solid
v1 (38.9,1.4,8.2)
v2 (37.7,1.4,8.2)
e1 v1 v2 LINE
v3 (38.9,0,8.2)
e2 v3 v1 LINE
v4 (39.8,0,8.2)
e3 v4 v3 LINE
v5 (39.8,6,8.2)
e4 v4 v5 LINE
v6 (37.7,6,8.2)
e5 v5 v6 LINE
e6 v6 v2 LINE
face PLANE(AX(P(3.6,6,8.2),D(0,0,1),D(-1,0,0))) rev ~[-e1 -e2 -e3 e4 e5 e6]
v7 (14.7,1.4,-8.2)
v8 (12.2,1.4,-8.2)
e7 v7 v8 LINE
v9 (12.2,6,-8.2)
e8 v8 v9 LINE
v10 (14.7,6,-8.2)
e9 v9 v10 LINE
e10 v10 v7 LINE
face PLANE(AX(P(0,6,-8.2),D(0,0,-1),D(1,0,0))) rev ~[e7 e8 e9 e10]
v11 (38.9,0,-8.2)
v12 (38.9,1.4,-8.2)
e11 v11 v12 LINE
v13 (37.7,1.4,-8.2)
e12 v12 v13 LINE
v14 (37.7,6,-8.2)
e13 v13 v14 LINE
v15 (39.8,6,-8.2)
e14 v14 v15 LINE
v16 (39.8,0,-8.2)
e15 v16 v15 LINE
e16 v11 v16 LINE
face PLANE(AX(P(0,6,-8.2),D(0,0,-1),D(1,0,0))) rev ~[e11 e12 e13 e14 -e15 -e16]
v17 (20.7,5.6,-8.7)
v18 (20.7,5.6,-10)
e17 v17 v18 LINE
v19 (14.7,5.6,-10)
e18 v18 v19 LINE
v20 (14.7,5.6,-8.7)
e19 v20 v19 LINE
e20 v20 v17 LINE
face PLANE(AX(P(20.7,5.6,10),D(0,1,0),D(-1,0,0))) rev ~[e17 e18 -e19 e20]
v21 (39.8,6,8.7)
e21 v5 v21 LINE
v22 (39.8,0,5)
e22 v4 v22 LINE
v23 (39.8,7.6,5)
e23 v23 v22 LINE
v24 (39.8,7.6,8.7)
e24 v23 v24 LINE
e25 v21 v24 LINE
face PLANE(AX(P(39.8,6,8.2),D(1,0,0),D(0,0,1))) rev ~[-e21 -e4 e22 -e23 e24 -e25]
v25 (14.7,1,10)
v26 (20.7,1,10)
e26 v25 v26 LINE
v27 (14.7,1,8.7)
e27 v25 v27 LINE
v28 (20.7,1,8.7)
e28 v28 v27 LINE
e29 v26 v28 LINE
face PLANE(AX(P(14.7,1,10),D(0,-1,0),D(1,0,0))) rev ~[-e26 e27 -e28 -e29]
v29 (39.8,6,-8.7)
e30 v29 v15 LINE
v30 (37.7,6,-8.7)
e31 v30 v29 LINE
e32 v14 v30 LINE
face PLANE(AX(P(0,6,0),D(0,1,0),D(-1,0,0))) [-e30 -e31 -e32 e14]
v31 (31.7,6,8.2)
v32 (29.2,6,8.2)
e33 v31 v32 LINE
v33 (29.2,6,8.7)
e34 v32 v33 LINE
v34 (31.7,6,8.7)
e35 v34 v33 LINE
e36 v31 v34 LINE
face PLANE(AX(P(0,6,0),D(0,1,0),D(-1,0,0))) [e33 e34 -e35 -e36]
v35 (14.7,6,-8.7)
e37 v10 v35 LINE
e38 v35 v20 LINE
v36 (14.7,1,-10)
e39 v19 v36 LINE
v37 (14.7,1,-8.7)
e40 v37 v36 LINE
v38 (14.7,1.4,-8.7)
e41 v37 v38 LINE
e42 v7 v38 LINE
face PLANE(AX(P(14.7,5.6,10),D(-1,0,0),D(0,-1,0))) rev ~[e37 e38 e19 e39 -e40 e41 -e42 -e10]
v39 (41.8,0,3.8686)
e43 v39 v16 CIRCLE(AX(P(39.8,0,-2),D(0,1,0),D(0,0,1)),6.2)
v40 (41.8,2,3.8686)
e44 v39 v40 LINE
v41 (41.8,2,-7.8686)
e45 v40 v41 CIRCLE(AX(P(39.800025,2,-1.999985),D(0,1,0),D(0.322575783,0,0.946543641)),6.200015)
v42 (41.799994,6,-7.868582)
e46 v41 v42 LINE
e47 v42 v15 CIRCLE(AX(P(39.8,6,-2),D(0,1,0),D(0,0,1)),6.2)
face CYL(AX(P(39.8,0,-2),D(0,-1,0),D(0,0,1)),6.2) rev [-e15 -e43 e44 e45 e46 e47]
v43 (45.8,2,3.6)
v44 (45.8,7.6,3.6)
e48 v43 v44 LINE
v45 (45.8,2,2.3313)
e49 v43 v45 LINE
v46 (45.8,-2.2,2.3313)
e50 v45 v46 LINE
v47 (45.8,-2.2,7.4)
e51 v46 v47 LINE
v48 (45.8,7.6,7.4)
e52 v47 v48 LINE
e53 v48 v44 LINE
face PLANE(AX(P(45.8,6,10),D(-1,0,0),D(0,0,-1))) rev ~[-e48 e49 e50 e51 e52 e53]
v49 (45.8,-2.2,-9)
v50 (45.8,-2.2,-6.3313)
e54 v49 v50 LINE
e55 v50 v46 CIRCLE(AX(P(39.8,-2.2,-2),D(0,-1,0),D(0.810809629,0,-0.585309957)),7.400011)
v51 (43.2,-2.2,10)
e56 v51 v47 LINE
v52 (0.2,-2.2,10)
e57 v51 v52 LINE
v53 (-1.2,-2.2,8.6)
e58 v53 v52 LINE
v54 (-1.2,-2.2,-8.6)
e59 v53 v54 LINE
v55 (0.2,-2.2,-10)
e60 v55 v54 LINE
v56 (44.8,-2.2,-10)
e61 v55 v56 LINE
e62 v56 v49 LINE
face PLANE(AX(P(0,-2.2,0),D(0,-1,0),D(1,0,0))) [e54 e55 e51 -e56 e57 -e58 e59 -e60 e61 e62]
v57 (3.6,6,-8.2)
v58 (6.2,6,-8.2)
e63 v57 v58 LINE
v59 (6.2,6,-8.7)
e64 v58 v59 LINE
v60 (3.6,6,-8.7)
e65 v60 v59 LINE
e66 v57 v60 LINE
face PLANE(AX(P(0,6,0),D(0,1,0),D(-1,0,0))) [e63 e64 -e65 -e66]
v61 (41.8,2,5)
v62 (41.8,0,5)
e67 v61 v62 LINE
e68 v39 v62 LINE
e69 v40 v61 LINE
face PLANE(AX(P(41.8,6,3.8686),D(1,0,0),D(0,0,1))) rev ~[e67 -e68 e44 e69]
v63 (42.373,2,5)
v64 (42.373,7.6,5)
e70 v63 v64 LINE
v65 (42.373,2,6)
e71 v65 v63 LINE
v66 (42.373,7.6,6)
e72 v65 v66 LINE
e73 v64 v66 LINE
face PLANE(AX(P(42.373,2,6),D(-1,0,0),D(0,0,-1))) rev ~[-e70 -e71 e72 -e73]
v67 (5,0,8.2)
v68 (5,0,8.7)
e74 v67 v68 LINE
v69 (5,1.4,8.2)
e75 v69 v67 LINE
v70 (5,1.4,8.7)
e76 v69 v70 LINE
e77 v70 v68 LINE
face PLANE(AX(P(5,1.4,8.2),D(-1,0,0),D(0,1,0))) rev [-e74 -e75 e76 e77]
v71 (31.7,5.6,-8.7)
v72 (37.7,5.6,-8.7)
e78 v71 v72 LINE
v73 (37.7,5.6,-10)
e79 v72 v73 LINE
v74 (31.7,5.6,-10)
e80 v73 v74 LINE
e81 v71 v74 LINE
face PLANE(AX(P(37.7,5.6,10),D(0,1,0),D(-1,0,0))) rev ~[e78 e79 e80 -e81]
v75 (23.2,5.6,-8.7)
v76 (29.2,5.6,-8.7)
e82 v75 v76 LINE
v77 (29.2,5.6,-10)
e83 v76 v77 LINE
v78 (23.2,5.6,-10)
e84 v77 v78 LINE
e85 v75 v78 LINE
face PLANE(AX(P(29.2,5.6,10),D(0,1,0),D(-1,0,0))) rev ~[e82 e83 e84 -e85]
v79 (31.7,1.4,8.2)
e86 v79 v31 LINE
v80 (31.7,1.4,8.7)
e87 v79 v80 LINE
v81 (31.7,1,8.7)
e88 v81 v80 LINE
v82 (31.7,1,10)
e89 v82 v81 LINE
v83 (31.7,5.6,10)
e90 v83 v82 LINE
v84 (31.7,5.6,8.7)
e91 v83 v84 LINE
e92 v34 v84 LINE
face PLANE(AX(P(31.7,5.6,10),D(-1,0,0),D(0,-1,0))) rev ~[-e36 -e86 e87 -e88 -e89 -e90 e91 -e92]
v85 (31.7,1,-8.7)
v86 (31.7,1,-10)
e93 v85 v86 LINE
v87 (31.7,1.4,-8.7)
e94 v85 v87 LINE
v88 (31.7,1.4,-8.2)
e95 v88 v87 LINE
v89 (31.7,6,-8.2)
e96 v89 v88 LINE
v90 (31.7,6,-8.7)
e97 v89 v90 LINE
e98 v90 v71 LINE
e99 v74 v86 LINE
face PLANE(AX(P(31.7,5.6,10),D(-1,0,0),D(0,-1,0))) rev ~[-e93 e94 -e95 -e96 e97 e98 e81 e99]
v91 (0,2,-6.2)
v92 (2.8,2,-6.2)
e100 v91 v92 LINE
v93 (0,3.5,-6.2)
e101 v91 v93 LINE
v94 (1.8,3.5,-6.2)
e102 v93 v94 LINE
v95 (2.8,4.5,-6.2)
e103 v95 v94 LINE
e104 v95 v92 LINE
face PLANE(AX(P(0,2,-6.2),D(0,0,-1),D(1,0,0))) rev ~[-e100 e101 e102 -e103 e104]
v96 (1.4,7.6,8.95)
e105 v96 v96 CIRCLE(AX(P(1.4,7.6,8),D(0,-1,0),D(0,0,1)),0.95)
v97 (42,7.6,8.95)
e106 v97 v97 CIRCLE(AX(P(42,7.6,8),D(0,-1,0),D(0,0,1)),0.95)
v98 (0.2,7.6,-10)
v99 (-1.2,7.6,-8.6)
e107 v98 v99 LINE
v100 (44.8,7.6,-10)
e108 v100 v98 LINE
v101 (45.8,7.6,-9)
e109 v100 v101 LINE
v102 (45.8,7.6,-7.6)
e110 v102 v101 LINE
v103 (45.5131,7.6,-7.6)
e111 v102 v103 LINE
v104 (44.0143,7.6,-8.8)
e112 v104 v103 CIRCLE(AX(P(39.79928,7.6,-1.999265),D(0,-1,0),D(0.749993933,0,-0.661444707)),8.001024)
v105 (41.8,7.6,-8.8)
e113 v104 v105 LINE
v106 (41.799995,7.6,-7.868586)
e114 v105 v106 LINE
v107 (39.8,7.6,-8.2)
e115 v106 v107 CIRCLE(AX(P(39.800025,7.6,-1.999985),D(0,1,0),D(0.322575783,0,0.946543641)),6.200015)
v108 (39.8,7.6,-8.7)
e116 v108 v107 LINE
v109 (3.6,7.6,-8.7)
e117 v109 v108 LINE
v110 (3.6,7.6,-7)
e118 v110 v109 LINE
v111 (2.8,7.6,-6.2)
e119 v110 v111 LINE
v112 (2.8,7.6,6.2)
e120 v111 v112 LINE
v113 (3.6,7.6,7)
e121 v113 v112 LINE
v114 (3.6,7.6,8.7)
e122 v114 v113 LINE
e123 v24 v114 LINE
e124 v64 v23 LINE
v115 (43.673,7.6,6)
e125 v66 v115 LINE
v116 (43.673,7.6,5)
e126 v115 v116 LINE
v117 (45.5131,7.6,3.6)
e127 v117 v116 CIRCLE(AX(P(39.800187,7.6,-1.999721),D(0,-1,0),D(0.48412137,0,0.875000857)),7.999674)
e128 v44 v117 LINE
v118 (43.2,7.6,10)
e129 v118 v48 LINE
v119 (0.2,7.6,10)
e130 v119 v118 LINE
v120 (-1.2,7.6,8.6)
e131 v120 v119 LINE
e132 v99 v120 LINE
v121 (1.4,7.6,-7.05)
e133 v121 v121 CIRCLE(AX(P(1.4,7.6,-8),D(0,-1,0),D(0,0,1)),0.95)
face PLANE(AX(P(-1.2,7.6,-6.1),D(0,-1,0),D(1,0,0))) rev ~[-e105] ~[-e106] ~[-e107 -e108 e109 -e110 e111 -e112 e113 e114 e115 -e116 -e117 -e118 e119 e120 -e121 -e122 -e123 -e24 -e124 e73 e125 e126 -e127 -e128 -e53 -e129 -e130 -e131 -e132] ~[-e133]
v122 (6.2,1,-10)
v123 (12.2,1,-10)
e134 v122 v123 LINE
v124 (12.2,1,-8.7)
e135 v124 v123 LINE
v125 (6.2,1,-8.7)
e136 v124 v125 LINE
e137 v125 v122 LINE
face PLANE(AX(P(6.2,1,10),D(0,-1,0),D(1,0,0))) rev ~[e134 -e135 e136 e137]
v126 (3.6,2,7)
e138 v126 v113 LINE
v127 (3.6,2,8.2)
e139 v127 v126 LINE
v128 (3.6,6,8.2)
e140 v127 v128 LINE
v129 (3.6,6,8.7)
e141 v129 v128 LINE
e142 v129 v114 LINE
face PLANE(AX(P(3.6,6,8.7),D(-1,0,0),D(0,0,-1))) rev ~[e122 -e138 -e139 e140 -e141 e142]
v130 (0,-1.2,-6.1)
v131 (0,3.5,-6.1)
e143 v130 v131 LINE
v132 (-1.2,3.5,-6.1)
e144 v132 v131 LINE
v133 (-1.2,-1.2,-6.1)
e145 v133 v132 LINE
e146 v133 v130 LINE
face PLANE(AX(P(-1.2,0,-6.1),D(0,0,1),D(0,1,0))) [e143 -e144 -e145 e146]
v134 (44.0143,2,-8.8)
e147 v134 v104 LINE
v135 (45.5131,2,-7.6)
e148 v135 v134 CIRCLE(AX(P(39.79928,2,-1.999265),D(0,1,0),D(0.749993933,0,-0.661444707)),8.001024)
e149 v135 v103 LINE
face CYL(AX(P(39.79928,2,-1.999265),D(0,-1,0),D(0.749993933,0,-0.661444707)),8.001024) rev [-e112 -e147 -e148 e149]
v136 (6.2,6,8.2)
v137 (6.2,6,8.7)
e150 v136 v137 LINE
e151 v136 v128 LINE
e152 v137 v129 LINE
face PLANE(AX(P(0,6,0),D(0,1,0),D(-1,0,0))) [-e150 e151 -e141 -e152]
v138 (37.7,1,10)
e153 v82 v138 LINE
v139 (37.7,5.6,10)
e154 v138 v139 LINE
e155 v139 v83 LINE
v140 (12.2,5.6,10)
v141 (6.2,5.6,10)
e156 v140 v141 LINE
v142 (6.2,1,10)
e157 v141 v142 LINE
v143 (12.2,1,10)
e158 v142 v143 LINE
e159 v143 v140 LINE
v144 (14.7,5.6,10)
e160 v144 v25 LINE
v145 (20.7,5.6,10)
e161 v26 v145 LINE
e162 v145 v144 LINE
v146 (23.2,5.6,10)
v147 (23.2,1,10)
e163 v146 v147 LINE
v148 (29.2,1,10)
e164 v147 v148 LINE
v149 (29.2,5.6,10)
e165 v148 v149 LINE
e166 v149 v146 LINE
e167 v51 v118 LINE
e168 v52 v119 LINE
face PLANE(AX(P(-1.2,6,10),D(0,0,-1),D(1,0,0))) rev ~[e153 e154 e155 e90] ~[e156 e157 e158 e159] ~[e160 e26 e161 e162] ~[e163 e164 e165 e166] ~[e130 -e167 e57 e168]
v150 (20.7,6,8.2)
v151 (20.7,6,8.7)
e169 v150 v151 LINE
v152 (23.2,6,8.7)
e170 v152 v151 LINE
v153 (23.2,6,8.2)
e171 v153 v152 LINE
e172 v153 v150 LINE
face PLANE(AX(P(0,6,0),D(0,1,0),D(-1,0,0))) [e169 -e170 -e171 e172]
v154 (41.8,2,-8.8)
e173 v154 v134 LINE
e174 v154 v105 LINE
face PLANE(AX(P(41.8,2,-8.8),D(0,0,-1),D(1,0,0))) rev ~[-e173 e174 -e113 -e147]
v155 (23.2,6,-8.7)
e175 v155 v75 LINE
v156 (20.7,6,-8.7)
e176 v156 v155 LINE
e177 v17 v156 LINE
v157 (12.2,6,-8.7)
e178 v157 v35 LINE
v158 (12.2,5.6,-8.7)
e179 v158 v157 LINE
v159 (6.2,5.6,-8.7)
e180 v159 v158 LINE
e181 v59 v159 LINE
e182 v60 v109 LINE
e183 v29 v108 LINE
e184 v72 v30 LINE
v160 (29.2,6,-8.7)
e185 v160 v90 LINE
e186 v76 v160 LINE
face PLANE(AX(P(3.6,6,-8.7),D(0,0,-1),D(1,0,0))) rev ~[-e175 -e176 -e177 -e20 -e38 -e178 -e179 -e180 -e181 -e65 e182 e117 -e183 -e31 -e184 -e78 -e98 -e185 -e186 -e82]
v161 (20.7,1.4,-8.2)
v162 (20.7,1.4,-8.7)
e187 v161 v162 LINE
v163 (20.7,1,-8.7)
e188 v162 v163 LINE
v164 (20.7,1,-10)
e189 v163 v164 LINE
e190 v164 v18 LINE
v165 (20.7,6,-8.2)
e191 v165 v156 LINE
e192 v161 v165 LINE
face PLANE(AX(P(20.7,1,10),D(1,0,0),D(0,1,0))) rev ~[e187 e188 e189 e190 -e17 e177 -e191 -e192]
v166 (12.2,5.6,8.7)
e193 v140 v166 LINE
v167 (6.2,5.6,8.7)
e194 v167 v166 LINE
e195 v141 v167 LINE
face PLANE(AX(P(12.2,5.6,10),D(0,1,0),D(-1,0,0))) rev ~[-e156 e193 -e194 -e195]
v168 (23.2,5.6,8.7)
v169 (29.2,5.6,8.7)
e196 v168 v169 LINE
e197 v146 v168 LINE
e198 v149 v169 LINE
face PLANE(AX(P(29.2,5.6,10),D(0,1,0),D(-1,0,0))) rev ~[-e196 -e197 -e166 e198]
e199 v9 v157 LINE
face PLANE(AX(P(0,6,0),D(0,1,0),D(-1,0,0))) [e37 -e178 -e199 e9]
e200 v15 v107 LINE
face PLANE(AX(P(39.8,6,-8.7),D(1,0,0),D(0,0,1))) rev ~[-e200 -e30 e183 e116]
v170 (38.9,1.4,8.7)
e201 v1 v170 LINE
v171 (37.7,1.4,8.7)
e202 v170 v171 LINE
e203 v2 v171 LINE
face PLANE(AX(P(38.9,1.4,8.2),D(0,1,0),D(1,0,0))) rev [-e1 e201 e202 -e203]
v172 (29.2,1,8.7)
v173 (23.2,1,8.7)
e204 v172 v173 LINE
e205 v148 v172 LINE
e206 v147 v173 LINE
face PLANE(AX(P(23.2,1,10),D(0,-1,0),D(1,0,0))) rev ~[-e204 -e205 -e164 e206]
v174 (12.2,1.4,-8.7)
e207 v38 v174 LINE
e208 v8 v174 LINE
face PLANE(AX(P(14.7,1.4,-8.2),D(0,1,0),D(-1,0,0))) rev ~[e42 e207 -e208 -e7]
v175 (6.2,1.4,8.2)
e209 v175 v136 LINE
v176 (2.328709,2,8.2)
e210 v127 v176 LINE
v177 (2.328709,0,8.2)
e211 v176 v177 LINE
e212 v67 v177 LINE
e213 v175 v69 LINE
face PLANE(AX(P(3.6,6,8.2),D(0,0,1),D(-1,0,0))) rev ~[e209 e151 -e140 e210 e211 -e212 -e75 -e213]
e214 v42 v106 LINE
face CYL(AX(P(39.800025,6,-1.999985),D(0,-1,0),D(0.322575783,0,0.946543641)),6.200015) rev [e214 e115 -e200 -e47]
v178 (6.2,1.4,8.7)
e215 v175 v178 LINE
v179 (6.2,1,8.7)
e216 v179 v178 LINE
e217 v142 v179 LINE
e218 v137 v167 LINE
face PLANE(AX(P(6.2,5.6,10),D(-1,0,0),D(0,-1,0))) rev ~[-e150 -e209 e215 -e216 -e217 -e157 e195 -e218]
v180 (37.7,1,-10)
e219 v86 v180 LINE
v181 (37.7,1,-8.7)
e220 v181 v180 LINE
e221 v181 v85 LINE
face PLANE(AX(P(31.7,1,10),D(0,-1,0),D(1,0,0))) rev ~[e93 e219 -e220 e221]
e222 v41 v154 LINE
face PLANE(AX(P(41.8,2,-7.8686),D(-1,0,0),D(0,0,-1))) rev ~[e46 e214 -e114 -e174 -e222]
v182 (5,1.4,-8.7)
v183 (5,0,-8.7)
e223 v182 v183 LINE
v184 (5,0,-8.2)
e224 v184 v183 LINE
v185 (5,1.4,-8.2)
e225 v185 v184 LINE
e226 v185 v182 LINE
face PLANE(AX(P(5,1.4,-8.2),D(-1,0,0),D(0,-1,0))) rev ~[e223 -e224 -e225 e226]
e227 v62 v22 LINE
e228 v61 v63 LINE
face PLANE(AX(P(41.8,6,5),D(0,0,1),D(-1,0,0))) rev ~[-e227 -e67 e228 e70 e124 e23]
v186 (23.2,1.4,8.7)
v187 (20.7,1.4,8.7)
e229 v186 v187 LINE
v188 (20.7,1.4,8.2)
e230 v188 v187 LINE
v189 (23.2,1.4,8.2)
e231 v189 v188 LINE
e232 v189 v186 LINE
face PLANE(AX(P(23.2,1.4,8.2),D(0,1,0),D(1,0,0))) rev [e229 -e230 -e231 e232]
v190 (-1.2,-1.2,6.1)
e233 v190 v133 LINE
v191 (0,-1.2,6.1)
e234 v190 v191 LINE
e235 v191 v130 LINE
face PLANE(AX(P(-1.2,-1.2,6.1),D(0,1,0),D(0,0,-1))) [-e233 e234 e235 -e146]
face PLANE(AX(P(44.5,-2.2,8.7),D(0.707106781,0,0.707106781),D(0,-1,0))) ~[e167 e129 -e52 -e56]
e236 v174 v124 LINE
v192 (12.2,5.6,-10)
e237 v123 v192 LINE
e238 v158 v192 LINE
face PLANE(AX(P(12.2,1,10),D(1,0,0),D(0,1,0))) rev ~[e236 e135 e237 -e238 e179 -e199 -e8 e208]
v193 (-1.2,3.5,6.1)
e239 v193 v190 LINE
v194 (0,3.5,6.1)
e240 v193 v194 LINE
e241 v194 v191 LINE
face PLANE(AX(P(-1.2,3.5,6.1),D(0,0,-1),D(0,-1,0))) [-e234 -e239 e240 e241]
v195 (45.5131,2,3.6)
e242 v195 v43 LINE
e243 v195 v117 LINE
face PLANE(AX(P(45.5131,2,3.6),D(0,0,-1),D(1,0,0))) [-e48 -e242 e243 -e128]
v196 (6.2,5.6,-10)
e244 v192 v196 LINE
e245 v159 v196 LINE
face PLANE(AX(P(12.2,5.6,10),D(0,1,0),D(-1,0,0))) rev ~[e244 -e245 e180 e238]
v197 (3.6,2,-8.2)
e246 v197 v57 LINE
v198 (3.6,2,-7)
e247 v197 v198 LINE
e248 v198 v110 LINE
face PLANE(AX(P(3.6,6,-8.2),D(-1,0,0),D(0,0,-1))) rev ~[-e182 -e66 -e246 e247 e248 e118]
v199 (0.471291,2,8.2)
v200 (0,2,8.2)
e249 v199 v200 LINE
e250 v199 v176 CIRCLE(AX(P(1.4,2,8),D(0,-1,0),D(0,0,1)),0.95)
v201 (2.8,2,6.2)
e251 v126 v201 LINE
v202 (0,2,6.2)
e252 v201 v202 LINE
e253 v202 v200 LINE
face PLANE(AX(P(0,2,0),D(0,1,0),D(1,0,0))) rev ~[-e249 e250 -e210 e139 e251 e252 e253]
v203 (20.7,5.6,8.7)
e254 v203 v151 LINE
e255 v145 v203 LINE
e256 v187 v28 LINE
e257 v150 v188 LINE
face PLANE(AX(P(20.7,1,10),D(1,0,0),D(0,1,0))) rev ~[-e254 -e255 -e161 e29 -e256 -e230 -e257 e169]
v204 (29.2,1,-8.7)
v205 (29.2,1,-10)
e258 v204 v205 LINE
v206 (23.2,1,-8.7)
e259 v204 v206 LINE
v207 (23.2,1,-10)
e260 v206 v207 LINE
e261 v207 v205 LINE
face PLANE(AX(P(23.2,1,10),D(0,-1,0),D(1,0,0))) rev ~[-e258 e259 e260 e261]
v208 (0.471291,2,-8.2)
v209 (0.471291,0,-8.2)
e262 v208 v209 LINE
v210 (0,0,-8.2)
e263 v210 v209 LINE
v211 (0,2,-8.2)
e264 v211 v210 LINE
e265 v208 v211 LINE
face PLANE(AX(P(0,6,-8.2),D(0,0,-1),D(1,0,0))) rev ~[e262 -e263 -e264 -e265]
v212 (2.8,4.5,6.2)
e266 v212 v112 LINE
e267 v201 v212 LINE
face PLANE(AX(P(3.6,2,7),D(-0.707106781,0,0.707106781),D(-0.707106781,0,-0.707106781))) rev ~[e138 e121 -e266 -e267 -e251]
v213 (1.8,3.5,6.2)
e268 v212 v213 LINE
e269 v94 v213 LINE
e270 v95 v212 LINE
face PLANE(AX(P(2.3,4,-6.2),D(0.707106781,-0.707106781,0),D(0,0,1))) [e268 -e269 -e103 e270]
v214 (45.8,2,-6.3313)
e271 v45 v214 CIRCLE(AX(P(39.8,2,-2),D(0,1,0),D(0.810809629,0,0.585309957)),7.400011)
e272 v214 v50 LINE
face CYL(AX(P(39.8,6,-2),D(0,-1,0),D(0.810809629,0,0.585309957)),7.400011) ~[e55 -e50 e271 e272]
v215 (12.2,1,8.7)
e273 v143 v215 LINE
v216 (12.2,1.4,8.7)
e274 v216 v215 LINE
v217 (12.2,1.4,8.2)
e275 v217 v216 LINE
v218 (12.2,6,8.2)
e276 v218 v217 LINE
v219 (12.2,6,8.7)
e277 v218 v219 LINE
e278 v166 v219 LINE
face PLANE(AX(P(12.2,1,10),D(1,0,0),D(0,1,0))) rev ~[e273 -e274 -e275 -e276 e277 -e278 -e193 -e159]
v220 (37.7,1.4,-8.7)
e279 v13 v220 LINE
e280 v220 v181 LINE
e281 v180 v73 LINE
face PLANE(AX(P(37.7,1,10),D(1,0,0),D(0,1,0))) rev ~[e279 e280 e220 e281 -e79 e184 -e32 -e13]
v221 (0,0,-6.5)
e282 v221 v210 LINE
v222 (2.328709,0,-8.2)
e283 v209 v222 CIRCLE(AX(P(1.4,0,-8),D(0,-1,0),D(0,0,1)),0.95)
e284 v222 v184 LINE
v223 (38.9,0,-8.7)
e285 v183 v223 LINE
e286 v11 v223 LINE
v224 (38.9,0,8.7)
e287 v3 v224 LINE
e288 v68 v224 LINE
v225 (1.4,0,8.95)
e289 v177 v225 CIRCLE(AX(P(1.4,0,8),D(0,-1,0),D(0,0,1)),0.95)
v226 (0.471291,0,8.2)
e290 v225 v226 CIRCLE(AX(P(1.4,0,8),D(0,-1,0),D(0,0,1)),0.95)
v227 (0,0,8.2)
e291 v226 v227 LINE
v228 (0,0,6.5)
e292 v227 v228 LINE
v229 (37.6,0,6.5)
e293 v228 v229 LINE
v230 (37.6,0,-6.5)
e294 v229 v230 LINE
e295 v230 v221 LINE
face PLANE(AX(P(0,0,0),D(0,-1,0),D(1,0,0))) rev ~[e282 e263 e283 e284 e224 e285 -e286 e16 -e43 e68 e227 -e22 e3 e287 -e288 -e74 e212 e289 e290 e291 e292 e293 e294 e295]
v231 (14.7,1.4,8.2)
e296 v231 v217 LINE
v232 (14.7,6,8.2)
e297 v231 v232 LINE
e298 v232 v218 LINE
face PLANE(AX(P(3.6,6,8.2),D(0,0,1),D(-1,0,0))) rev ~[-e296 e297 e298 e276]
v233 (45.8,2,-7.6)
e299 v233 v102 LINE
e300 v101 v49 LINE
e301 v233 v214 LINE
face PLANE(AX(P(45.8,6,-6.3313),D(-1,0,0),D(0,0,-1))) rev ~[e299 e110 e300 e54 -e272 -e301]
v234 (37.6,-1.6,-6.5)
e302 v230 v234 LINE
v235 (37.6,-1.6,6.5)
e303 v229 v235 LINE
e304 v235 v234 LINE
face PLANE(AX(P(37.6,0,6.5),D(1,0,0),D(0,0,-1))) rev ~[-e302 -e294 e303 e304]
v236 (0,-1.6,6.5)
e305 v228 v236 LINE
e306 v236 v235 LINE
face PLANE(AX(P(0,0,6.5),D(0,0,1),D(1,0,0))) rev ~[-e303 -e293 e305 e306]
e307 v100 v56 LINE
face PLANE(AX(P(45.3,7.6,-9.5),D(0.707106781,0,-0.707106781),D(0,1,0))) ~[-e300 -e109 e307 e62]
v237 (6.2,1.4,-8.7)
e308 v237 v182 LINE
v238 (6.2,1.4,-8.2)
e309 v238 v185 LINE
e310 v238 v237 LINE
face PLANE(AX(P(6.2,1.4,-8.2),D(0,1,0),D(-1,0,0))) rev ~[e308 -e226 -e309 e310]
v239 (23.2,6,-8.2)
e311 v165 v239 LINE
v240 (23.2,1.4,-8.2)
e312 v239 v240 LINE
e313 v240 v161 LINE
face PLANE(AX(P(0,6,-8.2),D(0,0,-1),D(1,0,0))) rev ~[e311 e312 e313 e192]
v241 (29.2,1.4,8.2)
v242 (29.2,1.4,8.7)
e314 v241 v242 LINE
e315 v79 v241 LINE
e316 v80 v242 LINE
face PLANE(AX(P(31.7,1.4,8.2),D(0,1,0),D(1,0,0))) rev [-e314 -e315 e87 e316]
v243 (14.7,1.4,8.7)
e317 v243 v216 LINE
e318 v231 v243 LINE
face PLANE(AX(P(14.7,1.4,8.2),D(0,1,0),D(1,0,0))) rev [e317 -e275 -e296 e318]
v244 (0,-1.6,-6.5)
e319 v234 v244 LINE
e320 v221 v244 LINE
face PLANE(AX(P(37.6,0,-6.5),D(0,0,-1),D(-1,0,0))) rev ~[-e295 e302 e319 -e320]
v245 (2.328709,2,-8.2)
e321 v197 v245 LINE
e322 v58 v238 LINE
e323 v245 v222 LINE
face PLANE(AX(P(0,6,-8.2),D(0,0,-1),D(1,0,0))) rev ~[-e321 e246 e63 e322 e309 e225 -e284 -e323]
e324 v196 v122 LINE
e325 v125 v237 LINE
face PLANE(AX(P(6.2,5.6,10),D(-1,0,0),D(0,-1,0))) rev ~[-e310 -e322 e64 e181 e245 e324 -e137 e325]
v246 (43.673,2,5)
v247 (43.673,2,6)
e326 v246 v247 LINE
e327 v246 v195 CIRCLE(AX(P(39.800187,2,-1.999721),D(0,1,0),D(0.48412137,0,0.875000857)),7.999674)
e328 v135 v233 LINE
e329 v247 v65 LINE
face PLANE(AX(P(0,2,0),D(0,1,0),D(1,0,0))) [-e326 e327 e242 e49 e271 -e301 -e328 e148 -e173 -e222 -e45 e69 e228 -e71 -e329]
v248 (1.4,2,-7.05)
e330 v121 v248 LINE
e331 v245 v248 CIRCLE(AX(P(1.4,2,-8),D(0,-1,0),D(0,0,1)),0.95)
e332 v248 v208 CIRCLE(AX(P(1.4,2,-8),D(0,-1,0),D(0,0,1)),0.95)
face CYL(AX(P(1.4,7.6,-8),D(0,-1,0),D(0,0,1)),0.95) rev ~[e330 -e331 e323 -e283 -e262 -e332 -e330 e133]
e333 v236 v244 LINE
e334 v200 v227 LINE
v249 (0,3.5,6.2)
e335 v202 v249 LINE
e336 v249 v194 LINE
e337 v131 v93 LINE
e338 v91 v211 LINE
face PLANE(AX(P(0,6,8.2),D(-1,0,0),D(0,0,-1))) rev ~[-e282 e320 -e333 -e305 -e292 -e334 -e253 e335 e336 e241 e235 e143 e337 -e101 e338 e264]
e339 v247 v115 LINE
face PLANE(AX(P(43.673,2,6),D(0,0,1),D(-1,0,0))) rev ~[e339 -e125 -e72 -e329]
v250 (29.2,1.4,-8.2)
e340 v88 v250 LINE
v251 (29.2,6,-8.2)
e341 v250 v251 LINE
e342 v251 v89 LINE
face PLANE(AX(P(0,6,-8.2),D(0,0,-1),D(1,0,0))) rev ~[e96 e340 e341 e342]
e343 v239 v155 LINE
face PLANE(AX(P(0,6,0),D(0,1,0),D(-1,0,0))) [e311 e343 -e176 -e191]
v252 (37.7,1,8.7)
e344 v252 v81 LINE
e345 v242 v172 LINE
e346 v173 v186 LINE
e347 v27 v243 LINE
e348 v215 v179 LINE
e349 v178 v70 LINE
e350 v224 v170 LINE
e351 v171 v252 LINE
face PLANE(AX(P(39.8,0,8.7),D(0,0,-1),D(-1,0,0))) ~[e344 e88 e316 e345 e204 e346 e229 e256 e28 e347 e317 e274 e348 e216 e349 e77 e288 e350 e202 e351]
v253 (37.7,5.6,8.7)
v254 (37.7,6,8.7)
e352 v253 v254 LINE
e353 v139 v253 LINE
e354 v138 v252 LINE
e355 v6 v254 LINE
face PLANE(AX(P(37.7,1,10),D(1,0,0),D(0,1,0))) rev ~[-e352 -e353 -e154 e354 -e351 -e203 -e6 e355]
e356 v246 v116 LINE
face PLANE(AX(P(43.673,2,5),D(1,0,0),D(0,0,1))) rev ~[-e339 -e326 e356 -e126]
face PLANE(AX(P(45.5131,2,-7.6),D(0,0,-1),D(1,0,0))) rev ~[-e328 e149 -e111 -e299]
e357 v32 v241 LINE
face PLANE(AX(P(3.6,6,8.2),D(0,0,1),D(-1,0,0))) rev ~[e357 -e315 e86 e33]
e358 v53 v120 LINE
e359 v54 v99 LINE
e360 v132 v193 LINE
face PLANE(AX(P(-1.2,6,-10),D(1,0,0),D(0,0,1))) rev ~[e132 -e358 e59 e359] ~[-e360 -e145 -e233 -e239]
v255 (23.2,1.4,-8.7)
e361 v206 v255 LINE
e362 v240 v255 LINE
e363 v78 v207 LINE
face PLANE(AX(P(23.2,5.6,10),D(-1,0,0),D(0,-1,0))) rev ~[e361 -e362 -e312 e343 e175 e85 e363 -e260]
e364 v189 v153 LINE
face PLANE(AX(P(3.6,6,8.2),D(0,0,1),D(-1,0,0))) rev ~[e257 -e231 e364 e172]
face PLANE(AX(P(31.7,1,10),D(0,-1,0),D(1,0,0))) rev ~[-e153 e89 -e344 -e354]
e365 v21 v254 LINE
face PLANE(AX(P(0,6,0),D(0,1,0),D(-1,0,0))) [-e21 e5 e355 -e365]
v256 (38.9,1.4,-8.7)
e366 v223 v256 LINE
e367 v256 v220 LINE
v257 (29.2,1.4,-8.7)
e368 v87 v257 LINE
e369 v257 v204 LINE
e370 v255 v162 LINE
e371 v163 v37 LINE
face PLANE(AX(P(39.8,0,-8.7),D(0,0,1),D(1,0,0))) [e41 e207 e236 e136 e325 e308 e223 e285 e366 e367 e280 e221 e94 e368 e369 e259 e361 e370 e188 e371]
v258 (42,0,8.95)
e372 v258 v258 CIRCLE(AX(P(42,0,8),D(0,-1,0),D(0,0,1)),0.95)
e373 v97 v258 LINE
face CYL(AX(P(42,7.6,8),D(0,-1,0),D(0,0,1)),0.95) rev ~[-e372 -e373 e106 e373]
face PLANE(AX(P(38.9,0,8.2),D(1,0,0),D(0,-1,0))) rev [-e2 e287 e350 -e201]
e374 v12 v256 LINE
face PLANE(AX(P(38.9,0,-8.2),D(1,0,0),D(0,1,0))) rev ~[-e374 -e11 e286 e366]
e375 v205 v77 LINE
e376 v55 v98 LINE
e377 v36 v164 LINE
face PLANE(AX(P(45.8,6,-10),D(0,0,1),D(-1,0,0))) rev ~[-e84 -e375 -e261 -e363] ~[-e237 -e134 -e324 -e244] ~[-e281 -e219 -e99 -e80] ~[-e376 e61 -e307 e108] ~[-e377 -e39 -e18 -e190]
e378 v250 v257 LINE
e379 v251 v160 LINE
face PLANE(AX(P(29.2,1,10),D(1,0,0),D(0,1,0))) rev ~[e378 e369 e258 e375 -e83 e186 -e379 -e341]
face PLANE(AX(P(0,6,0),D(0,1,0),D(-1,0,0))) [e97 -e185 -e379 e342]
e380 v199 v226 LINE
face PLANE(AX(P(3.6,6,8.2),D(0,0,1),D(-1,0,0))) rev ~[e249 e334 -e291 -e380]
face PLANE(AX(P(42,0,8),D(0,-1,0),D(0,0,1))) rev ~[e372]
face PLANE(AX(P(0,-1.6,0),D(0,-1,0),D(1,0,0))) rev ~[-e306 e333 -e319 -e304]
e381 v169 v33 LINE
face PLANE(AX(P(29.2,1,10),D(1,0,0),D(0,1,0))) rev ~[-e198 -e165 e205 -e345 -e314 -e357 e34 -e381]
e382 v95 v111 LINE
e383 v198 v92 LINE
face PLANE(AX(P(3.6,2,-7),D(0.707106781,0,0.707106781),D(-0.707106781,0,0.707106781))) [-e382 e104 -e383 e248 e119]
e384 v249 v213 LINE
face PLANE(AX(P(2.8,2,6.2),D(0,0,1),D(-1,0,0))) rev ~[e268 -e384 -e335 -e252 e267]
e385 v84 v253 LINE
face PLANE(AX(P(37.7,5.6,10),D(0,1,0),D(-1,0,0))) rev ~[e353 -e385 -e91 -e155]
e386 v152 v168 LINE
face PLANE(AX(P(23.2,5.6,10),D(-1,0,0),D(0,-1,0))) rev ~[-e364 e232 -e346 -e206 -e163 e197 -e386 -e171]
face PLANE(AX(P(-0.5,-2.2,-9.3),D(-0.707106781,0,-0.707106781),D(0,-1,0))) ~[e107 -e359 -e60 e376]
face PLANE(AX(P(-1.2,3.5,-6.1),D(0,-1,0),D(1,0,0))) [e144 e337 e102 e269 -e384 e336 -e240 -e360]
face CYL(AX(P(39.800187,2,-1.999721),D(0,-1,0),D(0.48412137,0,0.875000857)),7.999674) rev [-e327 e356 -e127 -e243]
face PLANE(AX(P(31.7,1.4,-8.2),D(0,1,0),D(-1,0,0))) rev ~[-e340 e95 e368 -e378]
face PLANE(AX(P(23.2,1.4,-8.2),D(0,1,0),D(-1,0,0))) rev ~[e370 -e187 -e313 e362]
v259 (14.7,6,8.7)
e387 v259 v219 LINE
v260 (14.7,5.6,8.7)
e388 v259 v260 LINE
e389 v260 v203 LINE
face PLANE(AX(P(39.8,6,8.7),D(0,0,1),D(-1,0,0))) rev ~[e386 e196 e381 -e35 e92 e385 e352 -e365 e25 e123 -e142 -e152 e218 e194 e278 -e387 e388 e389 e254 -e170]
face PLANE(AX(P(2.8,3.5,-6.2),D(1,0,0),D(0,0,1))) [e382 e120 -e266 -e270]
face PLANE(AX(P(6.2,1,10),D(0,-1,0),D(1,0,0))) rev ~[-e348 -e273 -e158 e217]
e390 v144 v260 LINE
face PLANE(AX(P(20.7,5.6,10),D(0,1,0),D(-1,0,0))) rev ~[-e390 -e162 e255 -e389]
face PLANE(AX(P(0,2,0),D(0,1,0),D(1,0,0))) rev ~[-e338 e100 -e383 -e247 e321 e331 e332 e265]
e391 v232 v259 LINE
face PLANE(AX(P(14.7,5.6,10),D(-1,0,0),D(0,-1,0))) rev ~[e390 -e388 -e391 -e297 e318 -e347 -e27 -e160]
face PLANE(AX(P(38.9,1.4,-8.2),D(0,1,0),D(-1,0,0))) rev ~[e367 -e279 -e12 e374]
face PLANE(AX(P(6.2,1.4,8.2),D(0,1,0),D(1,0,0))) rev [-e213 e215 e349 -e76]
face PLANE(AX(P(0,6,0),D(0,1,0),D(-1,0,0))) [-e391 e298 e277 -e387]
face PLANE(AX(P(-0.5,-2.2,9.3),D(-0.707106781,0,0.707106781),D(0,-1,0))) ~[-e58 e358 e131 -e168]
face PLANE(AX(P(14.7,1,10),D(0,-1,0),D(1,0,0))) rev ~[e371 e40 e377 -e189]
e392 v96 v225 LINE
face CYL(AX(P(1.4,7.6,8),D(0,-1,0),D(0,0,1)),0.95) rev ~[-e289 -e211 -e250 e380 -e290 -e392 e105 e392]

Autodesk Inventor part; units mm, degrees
sketch "Эскиз1" plane through (0, 0, 0) normal (0, 1, 0) x (-1, 0, 0)
  line L0 (-39.8, 8.2) -> (0, 8.2)
  line L1 (0, 8.2) -> (0, -8.2)
  line L2 (0, -8.2) -> (-39.8, -8.2)
  line L3 (-39.8, -8.2) -> (-39.8, 8.2) construction
  arc A0 (-39.8, 4.2) -> (-39.8, -8.2) centre (-39.8, -2) ccw
  line L4 (-39.8, 8.2) -> (-39.8, 4.2)
  arc A1 (-45.8, 2.3313) -> (-45.8, -6.3313) centre (-39.8, -2) ccw
  line L5 (-45.8, -10) -> (1.2, -10)
  line L6 (1.2, -10) -> (1.2, 10)
  line L7 (1.2, 10) -> (-45.8, 10)
  line L8 (-45.8, 10) -> (-45.8, 2.3313)
  line L9 (-45.8, -6.3313) -> (-45.8, -10)
  line L10 (-41.8, 3.8686) -> (-41.8, 5)
  line L11 (-41.8, 5) -> (-39.8, 5)
  point P0 (0, 0)
  point P1 (0, 0)
  point P2 (1.2, 0)
  dimension "d1" = 16.4
  dimension "d2" = 39.8
  dimension "d3" = 6.2
  dimension "d7" = 20
  dimension "d9" = 6
  dimension "d12" = 1.2
  dimension "d20" = 1.2
  dimension "d21" = 5
  dimension "d22" = 2
extrude "Выдавливание1" add sketch "Эскиз1" along normal blind 6
sketch "Эскиз3" plane through (0, 0, 0) normal (0, -1, 0) x (1, 0, 0)
  line L0 (45.8, -10) -> (-1.2, -10) projected
  arc A0 (45.8, -6.3313) -> (45.8, 2.3313) centre (39.8, -2) ccw projected
  line L1 (45.8, 10) -> (45.8, 2.3313) projected
  line L2 (-1.2, 10) -> (45.8, 10) projected
  line L3 (-1.2, -10) -> (-1.2, 10) projected
  line L4 (39.8, 5) -> (39.8, 8.2) projected
  arc A1 (39.8, -8.2) -> (41.8, 3.8686) centre (39.8, -2) ccw projected
  line L5 (0, -8.2) -> (39.8, -8.2) projected
  line L6 (0, 8.2) -> (0, -8.2) projected
  line L7 (39.8, 8.2) -> (0, 8.2) projected
  line L8 (0, 6.5) -> (37.6, 6.5)
  line L9 (37.6, 6.5) -> (37.6, -6.5)
  line L10 (37.6, -6.5) -> (0, -6.5)
  line L11 (0, -6.5) -> (0, 6.5)
  line L12 (0, 8.2) -> (0, -8.2) projected
  line L13 (45.8, -6.3313) -> (45.8, -10) projected
  line L14 (41.8, 5) -> (39.8, 5) projected
  line L15 (41.8, 3.8686) -> (41.8, 5) projected
  point P0 (0, 0)
  point P1 (0, 0)
  point P2 (0, -6.5)
  dimension "d13" = 13
  dimension "d14" = 37.6
extrude "Выдавливание2" add sketch "Эскиз3" along normal blind 1.6 contours L0 L3 L2 L1 A0 L13 | L14 L15 A1 L5 L6 L10 L9 L8 L7 L4
sketch "Эскиз4" plane through (0, -1.6, 0) normal (0, -1, 0) x (1, 0, 0)
  line L0 (-1.2, -10) -> (45.8, -10) projected
  arc A0 (45.8, -6.3313) -> (45.8, 2.3313) centre (39.8, -2) ccw projected
  line L1 (45.8, 2.3313) -> (45.8, 10) projected
  line L2 (45.8, 10) -> (-1.2, 10) projected
  line L3 (-1.2, 10) -> (-1.2, -10) projected
  line L4 (37.6, -6.5) -> (0, -6.5) projected
  line L5 (0, -6.5) -> (0, 6.5) projected
  line L6 (0, 6.5) -> (37.6, 6.5) projected
  line L7 (37.6, 6.5) -> (37.6, -6.5) projected
  line L8 (45.8, -10) -> (45.8, -6.3313) projected
  point P0 (0, 0)
extrude "Выдавливание3" add sketch "Эскиз4" along normal blind 0.6 contours L3 L2 L1 A0 L8 L0 | L4 L5 L6 L7
sketch "Эскиз5" plane through (0, 6, 0) normal (0, 1, 0) x (1, 0, 0)
  line L0 (3.6, 8.7) -> (39.8, 8.7)
  line L1 (39.8, 8.7) -> (39.8, -8.7)
  line L2 (39.8, -8.7) -> (3.6, -8.7)
  line L3 (3.6, -8.7) -> (3.6, 8.7)
  line L4 (0, -8.2) -> (0, 8.2) projected
  line L5 (-1.2, 10) -> (-1.2, -10) projected
  line L6 (-1.2, -10) -> (45.8, -10) projected
  line L7 (45.8, -10) -> (45.8, -2.3313) projected
  arc A0 (45.8, -2.3313) -> (45.8, 6.3313) centre (39.8, 2) ccw projected
  line L8 (45.8, 6.3313) -> (45.8, 10) projected
  line L9 (45.8, 10) -> (-1.2, 10) projected
  line L10 (0, -8.2) -> (0, 8.2) projected
  line L11 (0, 8.2) -> (39.8, 8.2) projected
  arc A1 (41.8, -3.8686) -> (39.8, 8.2) centre (39.8, 2) ccw projected
  line L12 (41.8, -3.8686) -> (41.8, -5) projected
  line L13 (41.8, -5) -> (39.8, -5) projected
  line L14 (39.8, -5) -> (39.8, -8.2) projected
  line L15 (39.8, -8.2) -> (0, -8.2) projected
  point P0 (0, 0)
  point P1 (3.6, 0)
  point P2 (0, 0)
  point P3 (39.8, -5)
  point P4 (3.6, -8.2)
  point P5 (3.6, 8.2)
  dimension "d23" = 36.2
  dimension "d24" = 17.4
extrude "Выдавливание4" add sketch "Эскиз5" along normal blind 1.6
ref_plane "РабПлоскость1" through (0, 2, 0) normal (0, 1, 0) x (1, 0, 0)
sketch "Эскиз6" plane through (0, 2, 0) normal (0, 1, 0) x (1, 0, 0)
  arc A0 (41.8, -3.8686) -> (39.8, 8.2) centre (39.8, 2) ccw projected
  arc A1 (45.8, -2.3313) -> (45.8, 6.3313) centre (39.8, 2) ccw projected
  arc A2 (45.8, 7.2915) -> (44.0143, 8.8) centre (39.8, 2) ccw
  line L0 (45.8, 10) -> (45.8, 6.3313) projected
  line L1 (45.8, -2.3313) -> (45.8, -10) projected
  arc A3 (43.673, -5) -> (45.8, -3.2915) centre (39.8, 2) ccw
  arc A4 (45.8, -3.2915) -> (45.8, 7.2915) centre (39.8, 2) ccw construction
  line L2 (0, 8.2) -> (39.8, 8.2) projected
  line L3 (41.8, 7.8686) -> (41.8, 8.8)
  line L4 (41.8, 8.8) -> (44.0143, 8.8)
  line L5 (41.8, -3.8686) -> (41.8, -5) projected
  line L6 (41.8, -5) -> (43.673, -5)
  line L7 (43.673, -5) -> (43.673, -6)
  line L8 (43.673, -6) -> (42.373, -6)
  line L9 (42.373, -6) -> (42.373, -4.9788)
  line L10 (45.5131, 7.6) -> (45.8, 7.6)
  line L11 (45.5131, -3.6) -> (45.8, -3.6)
  point P0 (0, 0)
  point P1 (42.373, -5)
  dimension "d28" = 8
  dimension "d29" = 0.6
  dimension "d49" = 1.3
  dimension "d50" = 1
  dimension "d72" = 11.2
extrude "Выдавливание5" cut sketch "Эскиз6" along normal through all
ref_plane "РабПлоскость2" through (0, 2, 0) normal (0, 1, 0) x (1, 0, 0)
sketch "Эскиз7" plane through (0, 2, 0) normal (0, 1, 0) x (1, 0, 0)
  line L0 (0, 6.5) -> (0, -6.5) construction
  line L1 (2.8, -6.2) -> (0, -6.2)
  line L2 (0, -6.2) -> (0, 6.2) construction
  line L3 (0, 6.2) -> (2.8, 6.2)
  line L4 (2.8, 6.2) -> (2.8, -6.2) construction
  line L5 (0, -8.2) -> (0, 8.2) construction
  line L6 (-1.2, 10) -> (-1.2, -10) projected
  line L7 (3.6, 8.2) -> (39.8, 8.2) projected
  line L8 (3.6, 8.2) -> (3.6, 7)
  line L9 (3.6, 7) -> (2.8, 6.2)
  line L10 (39.8, -8.2) -> (0, -8.2) projected
  line L11 (3.6, -8.2) -> (3.6, -7)
  line L12 (3.6, -7) -> (2.8, -6.2)
  line L13 (3.6, -8.2) -> (0, -8.2)
  line L14 (0, -6.2) -> (0, -8.2)
  line L15 (0, 6.2) -> (0, 8.2)
  line L16 (0, 8.2) -> (39.8, 8.2) construction
  line L17 (3.6, 8.2) -> (0, 8.2)
  point P0 (0, 0)
  point P1 (0, 0)
  dimension "d33" = 12.4
  dimension "d34" = 4
extrude "Выдавливание6" add sketch "Эскиз7" along normal up to surface (5.6 mm away)
sketch "Эскиз8" plane through (-1.2, -2.2, -10) normal (-1, 0, 0) x (0, 0, 1)
  line L0 (3.9, 5.7) -> (16.1, 5.7)
  line L1 (16.1, 5.7) -> (16.1, 1)
  line L2 (16.1, 1) -> (3.9, 1)
  line L3 (3.9, 1) -> (3.9, 5.7)
  line L4 (20, 0) -> (0, 0) projected
  line L5 (18.2, 2.2) -> (16.5, 2.2) projected
  line L6 (15, 2.2) -> (18.2, 2.2) projected
  line L7 (13.8686, 2.2) -> (15, 2.2) projected
  line L8 (1.8, 2.2) -> (13.8686, 2.2) projected
  line L9 (3.5, 2.2) -> (1.8, 2.2) projected
  line L10 (16.5, 2.2) -> (3.5, 2.2) projected
  point P0 (10, 2.2)
  point P1 (10, 1)
  point P2 (10, 0)
  dimension "d38" = 4.7
  dimension "d39" = 12.2
  dimension "d41" = 1.2
extrude "Выдавливание7" cut sketch "Эскиз8" against normal blind 10
sketch "Эскиз9" plane through (-1.2, 3.5, -6.1) normal (0, -1, 0) x (1, 0, 0)
  line L0 (1.2, 12.3) -> (1.2, -0.1) projected
  line L1 (1.2, 12.3) -> (4, 12.3) projected
  line L2 (1.2, -0.1) -> (4, -0.1)
  line L3 (4, -0.1) -> (4, 12.3)
  line L4 (4, 12.3) -> (1.2, 12.3)
  line L5 (1.2, 12.3) -> (1.2, -0.1)
  point P0 (1.2, 6.1)
extrude "Выдавливание8" add sketch "Эскиз9" against normal up to surface (4.1 mm away)
chamfer "Фаска1" distance 1 angle 45 1 edges at (2.8, 3.5, 0)
sketch "Эскиз11" plane through (0, 7.6, 0) normal (0, 1, 0) x (1, 0, 0)
  line L0 (-1.2, 10) -> (-1.2, -10) projected
  line L1 (-1.2, 0) -> (45.6686, 0)
  arc A0 (41.8, -3.8686) -> (39.8, 8.2) centre (39.8, 2) ccw projected
  line L2 (45.8, -10) -> (45.8, -3.6) projected
  line L3 (3.6, -8.7) -> (3.6, -7) projected
  line L4 (39.8, -5) -> (39.8, -8.7) projected
  point P0 (0, 0)
  point P1 (1.4, -8)
  point P2 (42, -8)
  point P3 (1.4, 8)
  point P4 (45.8, -3.2915)
  dimension "d58" = 16
  dimension "d67" = 2.2
  dimension "d68" = 2.2
hole "Отверстие1" at (1.4, 7.6, 8) at (42, 7.6, 8) at (1.4, 7.6, -8) direction (0, -1, 0) diameter 1.9 depth 7.6
chamfer "Фаска2" distance 1.4 angle 45 2 edges at (-1.2, 2.7, 10) (-1.2, 2.7, -10)
chamfer "Фаска3" distance 2.6 angle 45 1 edges at (45.8, 2.7, 10)
chamfer "Фаска4" distance 1 angle 45 1 edges at (45.8, 2.7, -10)
sketch "Эскиз12" plane through (0.2, -2.2, 10) normal (0, 0, 1) x (1, 0, 0)
  line L0 (6, 3.2) -> (12, 3.2)
  line L1 (12, 3.2) -> (12, 7.8)
  line L2 (12, 7.8) -> (6, 7.8)
  line L3 (6, 7.8) -> (6, 3.2)
  line L4 (14.5, 3.2) -> (20.5, 3.2)
  line L5 (20.5, 3.2) -> (20.5, 7.8)
  line L6 (20.5, 7.8) -> (14.5, 7.8)
  line L7 (14.5, 7.8) -> (14.5, 3.2)
  line L8 (23, 3.2) -> (29, 3.2)
  line L9 (29, 3.2) -> (29, 7.8)
  line L10 (29, 7.8) -> (23, 7.8)
  line L11 (23, 7.8) -> (23, 3.2)
  line L12 (31.5, 3.2) -> (37.5, 3.2)
  line L13 (37.5, 3.2) -> (37.5, 7.8)
  line L14 (37.5, 7.8) -> (31.5, 7.8)
  line L15 (31.5, 7.8) -> (31.5, 3.2)
  line L16 (43, 0) -> (0, 0) projected
  line L17 (0, 0) -> (0, 9.8) projected
  line L18 (-1.4, 9.8) -> (-1.4, 0) projected
  line L19 (39.6, 2.2) -> (2.1287, 2.2) projected
  line L20 (41.6, 2.2) -> (39.6, 2.2) projected
  line L21 (39.6, 2.2) -> (41.6, 2.2) projected
  line L22 (2.1287, 2.2) -> (39.6, 2.2) projected
  line L23 (0.2713, 2.2) -> (2.1287, 2.2) projected
  line L24 (-0.2, 2.2) -> (0.2713, 2.2) projected
  line L25 (37.4, 2.2) -> (-0.2, 2.2) projected
  line L26 (-0.2, 2.2) -> (37.4, 2.2) projected
  line L27 (0.2713, 2.2) -> (-0.2, 2.2) projected
  line L28 (2.1287, 2.2) -> (0.2713, 2.2) projected
  point P0 (-0.2, 2.2)
  point P1 (9, 7.8)
  point P2 (3.4, 8.2)
  point P3 (39.6, 8.2)
  dimension "d75" = 8.5
  dimension "d80" = 6
  dimension "d87" = 10.4
  dimension "d88" = 1
  dimension "d94" = 4.6
extrude "Выдавливание9" cut sketch "Эскиз12" against normal through all
sketch "Эскиз13" plane through (39.8, 0, -8.2) normal (0, 0, 1) x (1, 0, 0)
  line L0 (-16.6, 1) -> (-16.6, 5.6) projected
  line L1 (-36.2, 6) -> (0, 6) projected
  line L2 (-19.1, 5.6) -> (-19.1, 1) projected
  line L3 (-19.1, 1) -> (-25.1, 1) projected
  line L4 (-25.1, 1) -> (-25.1, 5.6) projected
  line L5 (-27.6, 5.6) -> (-27.6, 1) projected
  line L6 (-27.6, 1) -> (-33.6, 1) projected
  line L7 (-33.6, 1) -> (-33.6, 5.6) projected
  line L8 (-36.2, 6) -> (-36.2, 2) projected
  line L9 (-36.2, 2) -> (-37.4713, 2) projected
  line L10 (-37.4713, 2) -> (-37.4713, 0) projected
  line L11 (-37.4713, 0) -> (0, 0) projected
  line L12 (0, 0) -> (0, 6) projected
  line L13 (-2.1, 5.6) -> (-2.1, 1) projected
  line L14 (-2.1, 1) -> (-8.1, 1) projected
  line L15 (-8.1, 1) -> (-8.1, 5.6) projected
  line L16 (-10.6, 5.6) -> (-10.6, 1) projected
  line L17 (-10.6, 1) -> (-16.6, 1) projected
  line L18 (-34.8, 0) -> (-0.9, 0)
  line L19 (-0.9, 0) -> (-0.9, 1.4)
  line L20 (-0.9, 1.4) -> (-34.8, 1.4)
  line L21 (-34.8, 1.4) -> (-34.8, 0)
  line L22 (-16.6, 5.6) -> (-10.6, 5.6) projected
  line L23 (-25.1, 5.6) -> (-19.1, 5.6) projected
  line L24 (-8.1, 5.6) -> (-2.1, 5.6) projected
  line L25 (-33.6, 5.6) -> (-27.6, 5.6) projected
  line L26 (-33.6, 5.6) -> (-33.6, 1) projected
  line L27 (0, 6) -> (-36.2, 6) projected
  line L28 (-33.6, 5.6) -> (-27.6, 5.6)
  line L29 (-27.6, 5.6) -> (-27.6, 6)
  line L30 (-27.6, 6) -> (-33.6, 6)
  line L31 (-33.6, 6) -> (-33.6, 5.6)
  line L32 (-25.1, 5.6) -> (-25.1, 1) projected
  line L33 (-25.1, 5.6) -> (-19.1, 5.6)
  line L34 (-19.1, 5.6) -> (-19.1, 6)
  line L35 (-19.1, 6) -> (-25.1, 6)
  line L36 (-25.1, 6) -> (-25.1, 5.6)
  line L37 (-10.6, 5.6) -> (-16.6, 5.6) projected
  line L38 (-16.6, 5.6) -> (-10.6, 5.6)
  line L39 (-10.6, 5.6) -> (-10.6, 6)
  line L40 (-10.6, 6) -> (-16.6, 6)
  line L41 (-16.6, 6) -> (-16.6, 5.6)
  line L42 (-8.1, 5.6) -> (-8.1, 1) projected
  line L43 (-8.1, 5.6) -> (-2.1, 5.6)
  line L44 (-2.1, 5.6) -> (-2.1, 6)
  line L45 (-2.1, 6) -> (-8.1, 6)
  line L46 (-8.1, 6) -> (-8.1, 5.6)
  point P0 (-39.8, 0)
  point P1 (-33.6, 1.4)
  point P2 (-2.1, 1.4)
  point P3 (-8.1, 1.4)
  point P4 (-10.6, 1.4)
  point P5 (-16.6, 1.4)
  point P6 (-19.1, 1.4)
  point P7 (-25.1, 1.4)
  point P8 (-27.6, 1.4)
  dimension "d89" = 1.4
  dimension "d90" = 1.2
  dimension "d91" = 1.2
extrude "Выдавливание10" cut sketch "Эскиз13" against normal blind 0.5 contours L17 L16 L20 L15 L14 L13 L19 L11 L21 L7 L6 L5 L4 L3 L2 L0 | L41 L1 L39 L22 | L23 L36 L1 L34 | L46 L1 L44 L24 | L25 L31 L1 L29
ref_plane "РабПлоскость3" through (0.2, -2.2, 0) normal (0, 0, -1) x (-1, 0, 0)
mirror "Зеркальное отражение1" about plane through (0.2, -2.2, 0) normal (0, 0, -1) of "Выдавливание10"
properties part number "New_case"
